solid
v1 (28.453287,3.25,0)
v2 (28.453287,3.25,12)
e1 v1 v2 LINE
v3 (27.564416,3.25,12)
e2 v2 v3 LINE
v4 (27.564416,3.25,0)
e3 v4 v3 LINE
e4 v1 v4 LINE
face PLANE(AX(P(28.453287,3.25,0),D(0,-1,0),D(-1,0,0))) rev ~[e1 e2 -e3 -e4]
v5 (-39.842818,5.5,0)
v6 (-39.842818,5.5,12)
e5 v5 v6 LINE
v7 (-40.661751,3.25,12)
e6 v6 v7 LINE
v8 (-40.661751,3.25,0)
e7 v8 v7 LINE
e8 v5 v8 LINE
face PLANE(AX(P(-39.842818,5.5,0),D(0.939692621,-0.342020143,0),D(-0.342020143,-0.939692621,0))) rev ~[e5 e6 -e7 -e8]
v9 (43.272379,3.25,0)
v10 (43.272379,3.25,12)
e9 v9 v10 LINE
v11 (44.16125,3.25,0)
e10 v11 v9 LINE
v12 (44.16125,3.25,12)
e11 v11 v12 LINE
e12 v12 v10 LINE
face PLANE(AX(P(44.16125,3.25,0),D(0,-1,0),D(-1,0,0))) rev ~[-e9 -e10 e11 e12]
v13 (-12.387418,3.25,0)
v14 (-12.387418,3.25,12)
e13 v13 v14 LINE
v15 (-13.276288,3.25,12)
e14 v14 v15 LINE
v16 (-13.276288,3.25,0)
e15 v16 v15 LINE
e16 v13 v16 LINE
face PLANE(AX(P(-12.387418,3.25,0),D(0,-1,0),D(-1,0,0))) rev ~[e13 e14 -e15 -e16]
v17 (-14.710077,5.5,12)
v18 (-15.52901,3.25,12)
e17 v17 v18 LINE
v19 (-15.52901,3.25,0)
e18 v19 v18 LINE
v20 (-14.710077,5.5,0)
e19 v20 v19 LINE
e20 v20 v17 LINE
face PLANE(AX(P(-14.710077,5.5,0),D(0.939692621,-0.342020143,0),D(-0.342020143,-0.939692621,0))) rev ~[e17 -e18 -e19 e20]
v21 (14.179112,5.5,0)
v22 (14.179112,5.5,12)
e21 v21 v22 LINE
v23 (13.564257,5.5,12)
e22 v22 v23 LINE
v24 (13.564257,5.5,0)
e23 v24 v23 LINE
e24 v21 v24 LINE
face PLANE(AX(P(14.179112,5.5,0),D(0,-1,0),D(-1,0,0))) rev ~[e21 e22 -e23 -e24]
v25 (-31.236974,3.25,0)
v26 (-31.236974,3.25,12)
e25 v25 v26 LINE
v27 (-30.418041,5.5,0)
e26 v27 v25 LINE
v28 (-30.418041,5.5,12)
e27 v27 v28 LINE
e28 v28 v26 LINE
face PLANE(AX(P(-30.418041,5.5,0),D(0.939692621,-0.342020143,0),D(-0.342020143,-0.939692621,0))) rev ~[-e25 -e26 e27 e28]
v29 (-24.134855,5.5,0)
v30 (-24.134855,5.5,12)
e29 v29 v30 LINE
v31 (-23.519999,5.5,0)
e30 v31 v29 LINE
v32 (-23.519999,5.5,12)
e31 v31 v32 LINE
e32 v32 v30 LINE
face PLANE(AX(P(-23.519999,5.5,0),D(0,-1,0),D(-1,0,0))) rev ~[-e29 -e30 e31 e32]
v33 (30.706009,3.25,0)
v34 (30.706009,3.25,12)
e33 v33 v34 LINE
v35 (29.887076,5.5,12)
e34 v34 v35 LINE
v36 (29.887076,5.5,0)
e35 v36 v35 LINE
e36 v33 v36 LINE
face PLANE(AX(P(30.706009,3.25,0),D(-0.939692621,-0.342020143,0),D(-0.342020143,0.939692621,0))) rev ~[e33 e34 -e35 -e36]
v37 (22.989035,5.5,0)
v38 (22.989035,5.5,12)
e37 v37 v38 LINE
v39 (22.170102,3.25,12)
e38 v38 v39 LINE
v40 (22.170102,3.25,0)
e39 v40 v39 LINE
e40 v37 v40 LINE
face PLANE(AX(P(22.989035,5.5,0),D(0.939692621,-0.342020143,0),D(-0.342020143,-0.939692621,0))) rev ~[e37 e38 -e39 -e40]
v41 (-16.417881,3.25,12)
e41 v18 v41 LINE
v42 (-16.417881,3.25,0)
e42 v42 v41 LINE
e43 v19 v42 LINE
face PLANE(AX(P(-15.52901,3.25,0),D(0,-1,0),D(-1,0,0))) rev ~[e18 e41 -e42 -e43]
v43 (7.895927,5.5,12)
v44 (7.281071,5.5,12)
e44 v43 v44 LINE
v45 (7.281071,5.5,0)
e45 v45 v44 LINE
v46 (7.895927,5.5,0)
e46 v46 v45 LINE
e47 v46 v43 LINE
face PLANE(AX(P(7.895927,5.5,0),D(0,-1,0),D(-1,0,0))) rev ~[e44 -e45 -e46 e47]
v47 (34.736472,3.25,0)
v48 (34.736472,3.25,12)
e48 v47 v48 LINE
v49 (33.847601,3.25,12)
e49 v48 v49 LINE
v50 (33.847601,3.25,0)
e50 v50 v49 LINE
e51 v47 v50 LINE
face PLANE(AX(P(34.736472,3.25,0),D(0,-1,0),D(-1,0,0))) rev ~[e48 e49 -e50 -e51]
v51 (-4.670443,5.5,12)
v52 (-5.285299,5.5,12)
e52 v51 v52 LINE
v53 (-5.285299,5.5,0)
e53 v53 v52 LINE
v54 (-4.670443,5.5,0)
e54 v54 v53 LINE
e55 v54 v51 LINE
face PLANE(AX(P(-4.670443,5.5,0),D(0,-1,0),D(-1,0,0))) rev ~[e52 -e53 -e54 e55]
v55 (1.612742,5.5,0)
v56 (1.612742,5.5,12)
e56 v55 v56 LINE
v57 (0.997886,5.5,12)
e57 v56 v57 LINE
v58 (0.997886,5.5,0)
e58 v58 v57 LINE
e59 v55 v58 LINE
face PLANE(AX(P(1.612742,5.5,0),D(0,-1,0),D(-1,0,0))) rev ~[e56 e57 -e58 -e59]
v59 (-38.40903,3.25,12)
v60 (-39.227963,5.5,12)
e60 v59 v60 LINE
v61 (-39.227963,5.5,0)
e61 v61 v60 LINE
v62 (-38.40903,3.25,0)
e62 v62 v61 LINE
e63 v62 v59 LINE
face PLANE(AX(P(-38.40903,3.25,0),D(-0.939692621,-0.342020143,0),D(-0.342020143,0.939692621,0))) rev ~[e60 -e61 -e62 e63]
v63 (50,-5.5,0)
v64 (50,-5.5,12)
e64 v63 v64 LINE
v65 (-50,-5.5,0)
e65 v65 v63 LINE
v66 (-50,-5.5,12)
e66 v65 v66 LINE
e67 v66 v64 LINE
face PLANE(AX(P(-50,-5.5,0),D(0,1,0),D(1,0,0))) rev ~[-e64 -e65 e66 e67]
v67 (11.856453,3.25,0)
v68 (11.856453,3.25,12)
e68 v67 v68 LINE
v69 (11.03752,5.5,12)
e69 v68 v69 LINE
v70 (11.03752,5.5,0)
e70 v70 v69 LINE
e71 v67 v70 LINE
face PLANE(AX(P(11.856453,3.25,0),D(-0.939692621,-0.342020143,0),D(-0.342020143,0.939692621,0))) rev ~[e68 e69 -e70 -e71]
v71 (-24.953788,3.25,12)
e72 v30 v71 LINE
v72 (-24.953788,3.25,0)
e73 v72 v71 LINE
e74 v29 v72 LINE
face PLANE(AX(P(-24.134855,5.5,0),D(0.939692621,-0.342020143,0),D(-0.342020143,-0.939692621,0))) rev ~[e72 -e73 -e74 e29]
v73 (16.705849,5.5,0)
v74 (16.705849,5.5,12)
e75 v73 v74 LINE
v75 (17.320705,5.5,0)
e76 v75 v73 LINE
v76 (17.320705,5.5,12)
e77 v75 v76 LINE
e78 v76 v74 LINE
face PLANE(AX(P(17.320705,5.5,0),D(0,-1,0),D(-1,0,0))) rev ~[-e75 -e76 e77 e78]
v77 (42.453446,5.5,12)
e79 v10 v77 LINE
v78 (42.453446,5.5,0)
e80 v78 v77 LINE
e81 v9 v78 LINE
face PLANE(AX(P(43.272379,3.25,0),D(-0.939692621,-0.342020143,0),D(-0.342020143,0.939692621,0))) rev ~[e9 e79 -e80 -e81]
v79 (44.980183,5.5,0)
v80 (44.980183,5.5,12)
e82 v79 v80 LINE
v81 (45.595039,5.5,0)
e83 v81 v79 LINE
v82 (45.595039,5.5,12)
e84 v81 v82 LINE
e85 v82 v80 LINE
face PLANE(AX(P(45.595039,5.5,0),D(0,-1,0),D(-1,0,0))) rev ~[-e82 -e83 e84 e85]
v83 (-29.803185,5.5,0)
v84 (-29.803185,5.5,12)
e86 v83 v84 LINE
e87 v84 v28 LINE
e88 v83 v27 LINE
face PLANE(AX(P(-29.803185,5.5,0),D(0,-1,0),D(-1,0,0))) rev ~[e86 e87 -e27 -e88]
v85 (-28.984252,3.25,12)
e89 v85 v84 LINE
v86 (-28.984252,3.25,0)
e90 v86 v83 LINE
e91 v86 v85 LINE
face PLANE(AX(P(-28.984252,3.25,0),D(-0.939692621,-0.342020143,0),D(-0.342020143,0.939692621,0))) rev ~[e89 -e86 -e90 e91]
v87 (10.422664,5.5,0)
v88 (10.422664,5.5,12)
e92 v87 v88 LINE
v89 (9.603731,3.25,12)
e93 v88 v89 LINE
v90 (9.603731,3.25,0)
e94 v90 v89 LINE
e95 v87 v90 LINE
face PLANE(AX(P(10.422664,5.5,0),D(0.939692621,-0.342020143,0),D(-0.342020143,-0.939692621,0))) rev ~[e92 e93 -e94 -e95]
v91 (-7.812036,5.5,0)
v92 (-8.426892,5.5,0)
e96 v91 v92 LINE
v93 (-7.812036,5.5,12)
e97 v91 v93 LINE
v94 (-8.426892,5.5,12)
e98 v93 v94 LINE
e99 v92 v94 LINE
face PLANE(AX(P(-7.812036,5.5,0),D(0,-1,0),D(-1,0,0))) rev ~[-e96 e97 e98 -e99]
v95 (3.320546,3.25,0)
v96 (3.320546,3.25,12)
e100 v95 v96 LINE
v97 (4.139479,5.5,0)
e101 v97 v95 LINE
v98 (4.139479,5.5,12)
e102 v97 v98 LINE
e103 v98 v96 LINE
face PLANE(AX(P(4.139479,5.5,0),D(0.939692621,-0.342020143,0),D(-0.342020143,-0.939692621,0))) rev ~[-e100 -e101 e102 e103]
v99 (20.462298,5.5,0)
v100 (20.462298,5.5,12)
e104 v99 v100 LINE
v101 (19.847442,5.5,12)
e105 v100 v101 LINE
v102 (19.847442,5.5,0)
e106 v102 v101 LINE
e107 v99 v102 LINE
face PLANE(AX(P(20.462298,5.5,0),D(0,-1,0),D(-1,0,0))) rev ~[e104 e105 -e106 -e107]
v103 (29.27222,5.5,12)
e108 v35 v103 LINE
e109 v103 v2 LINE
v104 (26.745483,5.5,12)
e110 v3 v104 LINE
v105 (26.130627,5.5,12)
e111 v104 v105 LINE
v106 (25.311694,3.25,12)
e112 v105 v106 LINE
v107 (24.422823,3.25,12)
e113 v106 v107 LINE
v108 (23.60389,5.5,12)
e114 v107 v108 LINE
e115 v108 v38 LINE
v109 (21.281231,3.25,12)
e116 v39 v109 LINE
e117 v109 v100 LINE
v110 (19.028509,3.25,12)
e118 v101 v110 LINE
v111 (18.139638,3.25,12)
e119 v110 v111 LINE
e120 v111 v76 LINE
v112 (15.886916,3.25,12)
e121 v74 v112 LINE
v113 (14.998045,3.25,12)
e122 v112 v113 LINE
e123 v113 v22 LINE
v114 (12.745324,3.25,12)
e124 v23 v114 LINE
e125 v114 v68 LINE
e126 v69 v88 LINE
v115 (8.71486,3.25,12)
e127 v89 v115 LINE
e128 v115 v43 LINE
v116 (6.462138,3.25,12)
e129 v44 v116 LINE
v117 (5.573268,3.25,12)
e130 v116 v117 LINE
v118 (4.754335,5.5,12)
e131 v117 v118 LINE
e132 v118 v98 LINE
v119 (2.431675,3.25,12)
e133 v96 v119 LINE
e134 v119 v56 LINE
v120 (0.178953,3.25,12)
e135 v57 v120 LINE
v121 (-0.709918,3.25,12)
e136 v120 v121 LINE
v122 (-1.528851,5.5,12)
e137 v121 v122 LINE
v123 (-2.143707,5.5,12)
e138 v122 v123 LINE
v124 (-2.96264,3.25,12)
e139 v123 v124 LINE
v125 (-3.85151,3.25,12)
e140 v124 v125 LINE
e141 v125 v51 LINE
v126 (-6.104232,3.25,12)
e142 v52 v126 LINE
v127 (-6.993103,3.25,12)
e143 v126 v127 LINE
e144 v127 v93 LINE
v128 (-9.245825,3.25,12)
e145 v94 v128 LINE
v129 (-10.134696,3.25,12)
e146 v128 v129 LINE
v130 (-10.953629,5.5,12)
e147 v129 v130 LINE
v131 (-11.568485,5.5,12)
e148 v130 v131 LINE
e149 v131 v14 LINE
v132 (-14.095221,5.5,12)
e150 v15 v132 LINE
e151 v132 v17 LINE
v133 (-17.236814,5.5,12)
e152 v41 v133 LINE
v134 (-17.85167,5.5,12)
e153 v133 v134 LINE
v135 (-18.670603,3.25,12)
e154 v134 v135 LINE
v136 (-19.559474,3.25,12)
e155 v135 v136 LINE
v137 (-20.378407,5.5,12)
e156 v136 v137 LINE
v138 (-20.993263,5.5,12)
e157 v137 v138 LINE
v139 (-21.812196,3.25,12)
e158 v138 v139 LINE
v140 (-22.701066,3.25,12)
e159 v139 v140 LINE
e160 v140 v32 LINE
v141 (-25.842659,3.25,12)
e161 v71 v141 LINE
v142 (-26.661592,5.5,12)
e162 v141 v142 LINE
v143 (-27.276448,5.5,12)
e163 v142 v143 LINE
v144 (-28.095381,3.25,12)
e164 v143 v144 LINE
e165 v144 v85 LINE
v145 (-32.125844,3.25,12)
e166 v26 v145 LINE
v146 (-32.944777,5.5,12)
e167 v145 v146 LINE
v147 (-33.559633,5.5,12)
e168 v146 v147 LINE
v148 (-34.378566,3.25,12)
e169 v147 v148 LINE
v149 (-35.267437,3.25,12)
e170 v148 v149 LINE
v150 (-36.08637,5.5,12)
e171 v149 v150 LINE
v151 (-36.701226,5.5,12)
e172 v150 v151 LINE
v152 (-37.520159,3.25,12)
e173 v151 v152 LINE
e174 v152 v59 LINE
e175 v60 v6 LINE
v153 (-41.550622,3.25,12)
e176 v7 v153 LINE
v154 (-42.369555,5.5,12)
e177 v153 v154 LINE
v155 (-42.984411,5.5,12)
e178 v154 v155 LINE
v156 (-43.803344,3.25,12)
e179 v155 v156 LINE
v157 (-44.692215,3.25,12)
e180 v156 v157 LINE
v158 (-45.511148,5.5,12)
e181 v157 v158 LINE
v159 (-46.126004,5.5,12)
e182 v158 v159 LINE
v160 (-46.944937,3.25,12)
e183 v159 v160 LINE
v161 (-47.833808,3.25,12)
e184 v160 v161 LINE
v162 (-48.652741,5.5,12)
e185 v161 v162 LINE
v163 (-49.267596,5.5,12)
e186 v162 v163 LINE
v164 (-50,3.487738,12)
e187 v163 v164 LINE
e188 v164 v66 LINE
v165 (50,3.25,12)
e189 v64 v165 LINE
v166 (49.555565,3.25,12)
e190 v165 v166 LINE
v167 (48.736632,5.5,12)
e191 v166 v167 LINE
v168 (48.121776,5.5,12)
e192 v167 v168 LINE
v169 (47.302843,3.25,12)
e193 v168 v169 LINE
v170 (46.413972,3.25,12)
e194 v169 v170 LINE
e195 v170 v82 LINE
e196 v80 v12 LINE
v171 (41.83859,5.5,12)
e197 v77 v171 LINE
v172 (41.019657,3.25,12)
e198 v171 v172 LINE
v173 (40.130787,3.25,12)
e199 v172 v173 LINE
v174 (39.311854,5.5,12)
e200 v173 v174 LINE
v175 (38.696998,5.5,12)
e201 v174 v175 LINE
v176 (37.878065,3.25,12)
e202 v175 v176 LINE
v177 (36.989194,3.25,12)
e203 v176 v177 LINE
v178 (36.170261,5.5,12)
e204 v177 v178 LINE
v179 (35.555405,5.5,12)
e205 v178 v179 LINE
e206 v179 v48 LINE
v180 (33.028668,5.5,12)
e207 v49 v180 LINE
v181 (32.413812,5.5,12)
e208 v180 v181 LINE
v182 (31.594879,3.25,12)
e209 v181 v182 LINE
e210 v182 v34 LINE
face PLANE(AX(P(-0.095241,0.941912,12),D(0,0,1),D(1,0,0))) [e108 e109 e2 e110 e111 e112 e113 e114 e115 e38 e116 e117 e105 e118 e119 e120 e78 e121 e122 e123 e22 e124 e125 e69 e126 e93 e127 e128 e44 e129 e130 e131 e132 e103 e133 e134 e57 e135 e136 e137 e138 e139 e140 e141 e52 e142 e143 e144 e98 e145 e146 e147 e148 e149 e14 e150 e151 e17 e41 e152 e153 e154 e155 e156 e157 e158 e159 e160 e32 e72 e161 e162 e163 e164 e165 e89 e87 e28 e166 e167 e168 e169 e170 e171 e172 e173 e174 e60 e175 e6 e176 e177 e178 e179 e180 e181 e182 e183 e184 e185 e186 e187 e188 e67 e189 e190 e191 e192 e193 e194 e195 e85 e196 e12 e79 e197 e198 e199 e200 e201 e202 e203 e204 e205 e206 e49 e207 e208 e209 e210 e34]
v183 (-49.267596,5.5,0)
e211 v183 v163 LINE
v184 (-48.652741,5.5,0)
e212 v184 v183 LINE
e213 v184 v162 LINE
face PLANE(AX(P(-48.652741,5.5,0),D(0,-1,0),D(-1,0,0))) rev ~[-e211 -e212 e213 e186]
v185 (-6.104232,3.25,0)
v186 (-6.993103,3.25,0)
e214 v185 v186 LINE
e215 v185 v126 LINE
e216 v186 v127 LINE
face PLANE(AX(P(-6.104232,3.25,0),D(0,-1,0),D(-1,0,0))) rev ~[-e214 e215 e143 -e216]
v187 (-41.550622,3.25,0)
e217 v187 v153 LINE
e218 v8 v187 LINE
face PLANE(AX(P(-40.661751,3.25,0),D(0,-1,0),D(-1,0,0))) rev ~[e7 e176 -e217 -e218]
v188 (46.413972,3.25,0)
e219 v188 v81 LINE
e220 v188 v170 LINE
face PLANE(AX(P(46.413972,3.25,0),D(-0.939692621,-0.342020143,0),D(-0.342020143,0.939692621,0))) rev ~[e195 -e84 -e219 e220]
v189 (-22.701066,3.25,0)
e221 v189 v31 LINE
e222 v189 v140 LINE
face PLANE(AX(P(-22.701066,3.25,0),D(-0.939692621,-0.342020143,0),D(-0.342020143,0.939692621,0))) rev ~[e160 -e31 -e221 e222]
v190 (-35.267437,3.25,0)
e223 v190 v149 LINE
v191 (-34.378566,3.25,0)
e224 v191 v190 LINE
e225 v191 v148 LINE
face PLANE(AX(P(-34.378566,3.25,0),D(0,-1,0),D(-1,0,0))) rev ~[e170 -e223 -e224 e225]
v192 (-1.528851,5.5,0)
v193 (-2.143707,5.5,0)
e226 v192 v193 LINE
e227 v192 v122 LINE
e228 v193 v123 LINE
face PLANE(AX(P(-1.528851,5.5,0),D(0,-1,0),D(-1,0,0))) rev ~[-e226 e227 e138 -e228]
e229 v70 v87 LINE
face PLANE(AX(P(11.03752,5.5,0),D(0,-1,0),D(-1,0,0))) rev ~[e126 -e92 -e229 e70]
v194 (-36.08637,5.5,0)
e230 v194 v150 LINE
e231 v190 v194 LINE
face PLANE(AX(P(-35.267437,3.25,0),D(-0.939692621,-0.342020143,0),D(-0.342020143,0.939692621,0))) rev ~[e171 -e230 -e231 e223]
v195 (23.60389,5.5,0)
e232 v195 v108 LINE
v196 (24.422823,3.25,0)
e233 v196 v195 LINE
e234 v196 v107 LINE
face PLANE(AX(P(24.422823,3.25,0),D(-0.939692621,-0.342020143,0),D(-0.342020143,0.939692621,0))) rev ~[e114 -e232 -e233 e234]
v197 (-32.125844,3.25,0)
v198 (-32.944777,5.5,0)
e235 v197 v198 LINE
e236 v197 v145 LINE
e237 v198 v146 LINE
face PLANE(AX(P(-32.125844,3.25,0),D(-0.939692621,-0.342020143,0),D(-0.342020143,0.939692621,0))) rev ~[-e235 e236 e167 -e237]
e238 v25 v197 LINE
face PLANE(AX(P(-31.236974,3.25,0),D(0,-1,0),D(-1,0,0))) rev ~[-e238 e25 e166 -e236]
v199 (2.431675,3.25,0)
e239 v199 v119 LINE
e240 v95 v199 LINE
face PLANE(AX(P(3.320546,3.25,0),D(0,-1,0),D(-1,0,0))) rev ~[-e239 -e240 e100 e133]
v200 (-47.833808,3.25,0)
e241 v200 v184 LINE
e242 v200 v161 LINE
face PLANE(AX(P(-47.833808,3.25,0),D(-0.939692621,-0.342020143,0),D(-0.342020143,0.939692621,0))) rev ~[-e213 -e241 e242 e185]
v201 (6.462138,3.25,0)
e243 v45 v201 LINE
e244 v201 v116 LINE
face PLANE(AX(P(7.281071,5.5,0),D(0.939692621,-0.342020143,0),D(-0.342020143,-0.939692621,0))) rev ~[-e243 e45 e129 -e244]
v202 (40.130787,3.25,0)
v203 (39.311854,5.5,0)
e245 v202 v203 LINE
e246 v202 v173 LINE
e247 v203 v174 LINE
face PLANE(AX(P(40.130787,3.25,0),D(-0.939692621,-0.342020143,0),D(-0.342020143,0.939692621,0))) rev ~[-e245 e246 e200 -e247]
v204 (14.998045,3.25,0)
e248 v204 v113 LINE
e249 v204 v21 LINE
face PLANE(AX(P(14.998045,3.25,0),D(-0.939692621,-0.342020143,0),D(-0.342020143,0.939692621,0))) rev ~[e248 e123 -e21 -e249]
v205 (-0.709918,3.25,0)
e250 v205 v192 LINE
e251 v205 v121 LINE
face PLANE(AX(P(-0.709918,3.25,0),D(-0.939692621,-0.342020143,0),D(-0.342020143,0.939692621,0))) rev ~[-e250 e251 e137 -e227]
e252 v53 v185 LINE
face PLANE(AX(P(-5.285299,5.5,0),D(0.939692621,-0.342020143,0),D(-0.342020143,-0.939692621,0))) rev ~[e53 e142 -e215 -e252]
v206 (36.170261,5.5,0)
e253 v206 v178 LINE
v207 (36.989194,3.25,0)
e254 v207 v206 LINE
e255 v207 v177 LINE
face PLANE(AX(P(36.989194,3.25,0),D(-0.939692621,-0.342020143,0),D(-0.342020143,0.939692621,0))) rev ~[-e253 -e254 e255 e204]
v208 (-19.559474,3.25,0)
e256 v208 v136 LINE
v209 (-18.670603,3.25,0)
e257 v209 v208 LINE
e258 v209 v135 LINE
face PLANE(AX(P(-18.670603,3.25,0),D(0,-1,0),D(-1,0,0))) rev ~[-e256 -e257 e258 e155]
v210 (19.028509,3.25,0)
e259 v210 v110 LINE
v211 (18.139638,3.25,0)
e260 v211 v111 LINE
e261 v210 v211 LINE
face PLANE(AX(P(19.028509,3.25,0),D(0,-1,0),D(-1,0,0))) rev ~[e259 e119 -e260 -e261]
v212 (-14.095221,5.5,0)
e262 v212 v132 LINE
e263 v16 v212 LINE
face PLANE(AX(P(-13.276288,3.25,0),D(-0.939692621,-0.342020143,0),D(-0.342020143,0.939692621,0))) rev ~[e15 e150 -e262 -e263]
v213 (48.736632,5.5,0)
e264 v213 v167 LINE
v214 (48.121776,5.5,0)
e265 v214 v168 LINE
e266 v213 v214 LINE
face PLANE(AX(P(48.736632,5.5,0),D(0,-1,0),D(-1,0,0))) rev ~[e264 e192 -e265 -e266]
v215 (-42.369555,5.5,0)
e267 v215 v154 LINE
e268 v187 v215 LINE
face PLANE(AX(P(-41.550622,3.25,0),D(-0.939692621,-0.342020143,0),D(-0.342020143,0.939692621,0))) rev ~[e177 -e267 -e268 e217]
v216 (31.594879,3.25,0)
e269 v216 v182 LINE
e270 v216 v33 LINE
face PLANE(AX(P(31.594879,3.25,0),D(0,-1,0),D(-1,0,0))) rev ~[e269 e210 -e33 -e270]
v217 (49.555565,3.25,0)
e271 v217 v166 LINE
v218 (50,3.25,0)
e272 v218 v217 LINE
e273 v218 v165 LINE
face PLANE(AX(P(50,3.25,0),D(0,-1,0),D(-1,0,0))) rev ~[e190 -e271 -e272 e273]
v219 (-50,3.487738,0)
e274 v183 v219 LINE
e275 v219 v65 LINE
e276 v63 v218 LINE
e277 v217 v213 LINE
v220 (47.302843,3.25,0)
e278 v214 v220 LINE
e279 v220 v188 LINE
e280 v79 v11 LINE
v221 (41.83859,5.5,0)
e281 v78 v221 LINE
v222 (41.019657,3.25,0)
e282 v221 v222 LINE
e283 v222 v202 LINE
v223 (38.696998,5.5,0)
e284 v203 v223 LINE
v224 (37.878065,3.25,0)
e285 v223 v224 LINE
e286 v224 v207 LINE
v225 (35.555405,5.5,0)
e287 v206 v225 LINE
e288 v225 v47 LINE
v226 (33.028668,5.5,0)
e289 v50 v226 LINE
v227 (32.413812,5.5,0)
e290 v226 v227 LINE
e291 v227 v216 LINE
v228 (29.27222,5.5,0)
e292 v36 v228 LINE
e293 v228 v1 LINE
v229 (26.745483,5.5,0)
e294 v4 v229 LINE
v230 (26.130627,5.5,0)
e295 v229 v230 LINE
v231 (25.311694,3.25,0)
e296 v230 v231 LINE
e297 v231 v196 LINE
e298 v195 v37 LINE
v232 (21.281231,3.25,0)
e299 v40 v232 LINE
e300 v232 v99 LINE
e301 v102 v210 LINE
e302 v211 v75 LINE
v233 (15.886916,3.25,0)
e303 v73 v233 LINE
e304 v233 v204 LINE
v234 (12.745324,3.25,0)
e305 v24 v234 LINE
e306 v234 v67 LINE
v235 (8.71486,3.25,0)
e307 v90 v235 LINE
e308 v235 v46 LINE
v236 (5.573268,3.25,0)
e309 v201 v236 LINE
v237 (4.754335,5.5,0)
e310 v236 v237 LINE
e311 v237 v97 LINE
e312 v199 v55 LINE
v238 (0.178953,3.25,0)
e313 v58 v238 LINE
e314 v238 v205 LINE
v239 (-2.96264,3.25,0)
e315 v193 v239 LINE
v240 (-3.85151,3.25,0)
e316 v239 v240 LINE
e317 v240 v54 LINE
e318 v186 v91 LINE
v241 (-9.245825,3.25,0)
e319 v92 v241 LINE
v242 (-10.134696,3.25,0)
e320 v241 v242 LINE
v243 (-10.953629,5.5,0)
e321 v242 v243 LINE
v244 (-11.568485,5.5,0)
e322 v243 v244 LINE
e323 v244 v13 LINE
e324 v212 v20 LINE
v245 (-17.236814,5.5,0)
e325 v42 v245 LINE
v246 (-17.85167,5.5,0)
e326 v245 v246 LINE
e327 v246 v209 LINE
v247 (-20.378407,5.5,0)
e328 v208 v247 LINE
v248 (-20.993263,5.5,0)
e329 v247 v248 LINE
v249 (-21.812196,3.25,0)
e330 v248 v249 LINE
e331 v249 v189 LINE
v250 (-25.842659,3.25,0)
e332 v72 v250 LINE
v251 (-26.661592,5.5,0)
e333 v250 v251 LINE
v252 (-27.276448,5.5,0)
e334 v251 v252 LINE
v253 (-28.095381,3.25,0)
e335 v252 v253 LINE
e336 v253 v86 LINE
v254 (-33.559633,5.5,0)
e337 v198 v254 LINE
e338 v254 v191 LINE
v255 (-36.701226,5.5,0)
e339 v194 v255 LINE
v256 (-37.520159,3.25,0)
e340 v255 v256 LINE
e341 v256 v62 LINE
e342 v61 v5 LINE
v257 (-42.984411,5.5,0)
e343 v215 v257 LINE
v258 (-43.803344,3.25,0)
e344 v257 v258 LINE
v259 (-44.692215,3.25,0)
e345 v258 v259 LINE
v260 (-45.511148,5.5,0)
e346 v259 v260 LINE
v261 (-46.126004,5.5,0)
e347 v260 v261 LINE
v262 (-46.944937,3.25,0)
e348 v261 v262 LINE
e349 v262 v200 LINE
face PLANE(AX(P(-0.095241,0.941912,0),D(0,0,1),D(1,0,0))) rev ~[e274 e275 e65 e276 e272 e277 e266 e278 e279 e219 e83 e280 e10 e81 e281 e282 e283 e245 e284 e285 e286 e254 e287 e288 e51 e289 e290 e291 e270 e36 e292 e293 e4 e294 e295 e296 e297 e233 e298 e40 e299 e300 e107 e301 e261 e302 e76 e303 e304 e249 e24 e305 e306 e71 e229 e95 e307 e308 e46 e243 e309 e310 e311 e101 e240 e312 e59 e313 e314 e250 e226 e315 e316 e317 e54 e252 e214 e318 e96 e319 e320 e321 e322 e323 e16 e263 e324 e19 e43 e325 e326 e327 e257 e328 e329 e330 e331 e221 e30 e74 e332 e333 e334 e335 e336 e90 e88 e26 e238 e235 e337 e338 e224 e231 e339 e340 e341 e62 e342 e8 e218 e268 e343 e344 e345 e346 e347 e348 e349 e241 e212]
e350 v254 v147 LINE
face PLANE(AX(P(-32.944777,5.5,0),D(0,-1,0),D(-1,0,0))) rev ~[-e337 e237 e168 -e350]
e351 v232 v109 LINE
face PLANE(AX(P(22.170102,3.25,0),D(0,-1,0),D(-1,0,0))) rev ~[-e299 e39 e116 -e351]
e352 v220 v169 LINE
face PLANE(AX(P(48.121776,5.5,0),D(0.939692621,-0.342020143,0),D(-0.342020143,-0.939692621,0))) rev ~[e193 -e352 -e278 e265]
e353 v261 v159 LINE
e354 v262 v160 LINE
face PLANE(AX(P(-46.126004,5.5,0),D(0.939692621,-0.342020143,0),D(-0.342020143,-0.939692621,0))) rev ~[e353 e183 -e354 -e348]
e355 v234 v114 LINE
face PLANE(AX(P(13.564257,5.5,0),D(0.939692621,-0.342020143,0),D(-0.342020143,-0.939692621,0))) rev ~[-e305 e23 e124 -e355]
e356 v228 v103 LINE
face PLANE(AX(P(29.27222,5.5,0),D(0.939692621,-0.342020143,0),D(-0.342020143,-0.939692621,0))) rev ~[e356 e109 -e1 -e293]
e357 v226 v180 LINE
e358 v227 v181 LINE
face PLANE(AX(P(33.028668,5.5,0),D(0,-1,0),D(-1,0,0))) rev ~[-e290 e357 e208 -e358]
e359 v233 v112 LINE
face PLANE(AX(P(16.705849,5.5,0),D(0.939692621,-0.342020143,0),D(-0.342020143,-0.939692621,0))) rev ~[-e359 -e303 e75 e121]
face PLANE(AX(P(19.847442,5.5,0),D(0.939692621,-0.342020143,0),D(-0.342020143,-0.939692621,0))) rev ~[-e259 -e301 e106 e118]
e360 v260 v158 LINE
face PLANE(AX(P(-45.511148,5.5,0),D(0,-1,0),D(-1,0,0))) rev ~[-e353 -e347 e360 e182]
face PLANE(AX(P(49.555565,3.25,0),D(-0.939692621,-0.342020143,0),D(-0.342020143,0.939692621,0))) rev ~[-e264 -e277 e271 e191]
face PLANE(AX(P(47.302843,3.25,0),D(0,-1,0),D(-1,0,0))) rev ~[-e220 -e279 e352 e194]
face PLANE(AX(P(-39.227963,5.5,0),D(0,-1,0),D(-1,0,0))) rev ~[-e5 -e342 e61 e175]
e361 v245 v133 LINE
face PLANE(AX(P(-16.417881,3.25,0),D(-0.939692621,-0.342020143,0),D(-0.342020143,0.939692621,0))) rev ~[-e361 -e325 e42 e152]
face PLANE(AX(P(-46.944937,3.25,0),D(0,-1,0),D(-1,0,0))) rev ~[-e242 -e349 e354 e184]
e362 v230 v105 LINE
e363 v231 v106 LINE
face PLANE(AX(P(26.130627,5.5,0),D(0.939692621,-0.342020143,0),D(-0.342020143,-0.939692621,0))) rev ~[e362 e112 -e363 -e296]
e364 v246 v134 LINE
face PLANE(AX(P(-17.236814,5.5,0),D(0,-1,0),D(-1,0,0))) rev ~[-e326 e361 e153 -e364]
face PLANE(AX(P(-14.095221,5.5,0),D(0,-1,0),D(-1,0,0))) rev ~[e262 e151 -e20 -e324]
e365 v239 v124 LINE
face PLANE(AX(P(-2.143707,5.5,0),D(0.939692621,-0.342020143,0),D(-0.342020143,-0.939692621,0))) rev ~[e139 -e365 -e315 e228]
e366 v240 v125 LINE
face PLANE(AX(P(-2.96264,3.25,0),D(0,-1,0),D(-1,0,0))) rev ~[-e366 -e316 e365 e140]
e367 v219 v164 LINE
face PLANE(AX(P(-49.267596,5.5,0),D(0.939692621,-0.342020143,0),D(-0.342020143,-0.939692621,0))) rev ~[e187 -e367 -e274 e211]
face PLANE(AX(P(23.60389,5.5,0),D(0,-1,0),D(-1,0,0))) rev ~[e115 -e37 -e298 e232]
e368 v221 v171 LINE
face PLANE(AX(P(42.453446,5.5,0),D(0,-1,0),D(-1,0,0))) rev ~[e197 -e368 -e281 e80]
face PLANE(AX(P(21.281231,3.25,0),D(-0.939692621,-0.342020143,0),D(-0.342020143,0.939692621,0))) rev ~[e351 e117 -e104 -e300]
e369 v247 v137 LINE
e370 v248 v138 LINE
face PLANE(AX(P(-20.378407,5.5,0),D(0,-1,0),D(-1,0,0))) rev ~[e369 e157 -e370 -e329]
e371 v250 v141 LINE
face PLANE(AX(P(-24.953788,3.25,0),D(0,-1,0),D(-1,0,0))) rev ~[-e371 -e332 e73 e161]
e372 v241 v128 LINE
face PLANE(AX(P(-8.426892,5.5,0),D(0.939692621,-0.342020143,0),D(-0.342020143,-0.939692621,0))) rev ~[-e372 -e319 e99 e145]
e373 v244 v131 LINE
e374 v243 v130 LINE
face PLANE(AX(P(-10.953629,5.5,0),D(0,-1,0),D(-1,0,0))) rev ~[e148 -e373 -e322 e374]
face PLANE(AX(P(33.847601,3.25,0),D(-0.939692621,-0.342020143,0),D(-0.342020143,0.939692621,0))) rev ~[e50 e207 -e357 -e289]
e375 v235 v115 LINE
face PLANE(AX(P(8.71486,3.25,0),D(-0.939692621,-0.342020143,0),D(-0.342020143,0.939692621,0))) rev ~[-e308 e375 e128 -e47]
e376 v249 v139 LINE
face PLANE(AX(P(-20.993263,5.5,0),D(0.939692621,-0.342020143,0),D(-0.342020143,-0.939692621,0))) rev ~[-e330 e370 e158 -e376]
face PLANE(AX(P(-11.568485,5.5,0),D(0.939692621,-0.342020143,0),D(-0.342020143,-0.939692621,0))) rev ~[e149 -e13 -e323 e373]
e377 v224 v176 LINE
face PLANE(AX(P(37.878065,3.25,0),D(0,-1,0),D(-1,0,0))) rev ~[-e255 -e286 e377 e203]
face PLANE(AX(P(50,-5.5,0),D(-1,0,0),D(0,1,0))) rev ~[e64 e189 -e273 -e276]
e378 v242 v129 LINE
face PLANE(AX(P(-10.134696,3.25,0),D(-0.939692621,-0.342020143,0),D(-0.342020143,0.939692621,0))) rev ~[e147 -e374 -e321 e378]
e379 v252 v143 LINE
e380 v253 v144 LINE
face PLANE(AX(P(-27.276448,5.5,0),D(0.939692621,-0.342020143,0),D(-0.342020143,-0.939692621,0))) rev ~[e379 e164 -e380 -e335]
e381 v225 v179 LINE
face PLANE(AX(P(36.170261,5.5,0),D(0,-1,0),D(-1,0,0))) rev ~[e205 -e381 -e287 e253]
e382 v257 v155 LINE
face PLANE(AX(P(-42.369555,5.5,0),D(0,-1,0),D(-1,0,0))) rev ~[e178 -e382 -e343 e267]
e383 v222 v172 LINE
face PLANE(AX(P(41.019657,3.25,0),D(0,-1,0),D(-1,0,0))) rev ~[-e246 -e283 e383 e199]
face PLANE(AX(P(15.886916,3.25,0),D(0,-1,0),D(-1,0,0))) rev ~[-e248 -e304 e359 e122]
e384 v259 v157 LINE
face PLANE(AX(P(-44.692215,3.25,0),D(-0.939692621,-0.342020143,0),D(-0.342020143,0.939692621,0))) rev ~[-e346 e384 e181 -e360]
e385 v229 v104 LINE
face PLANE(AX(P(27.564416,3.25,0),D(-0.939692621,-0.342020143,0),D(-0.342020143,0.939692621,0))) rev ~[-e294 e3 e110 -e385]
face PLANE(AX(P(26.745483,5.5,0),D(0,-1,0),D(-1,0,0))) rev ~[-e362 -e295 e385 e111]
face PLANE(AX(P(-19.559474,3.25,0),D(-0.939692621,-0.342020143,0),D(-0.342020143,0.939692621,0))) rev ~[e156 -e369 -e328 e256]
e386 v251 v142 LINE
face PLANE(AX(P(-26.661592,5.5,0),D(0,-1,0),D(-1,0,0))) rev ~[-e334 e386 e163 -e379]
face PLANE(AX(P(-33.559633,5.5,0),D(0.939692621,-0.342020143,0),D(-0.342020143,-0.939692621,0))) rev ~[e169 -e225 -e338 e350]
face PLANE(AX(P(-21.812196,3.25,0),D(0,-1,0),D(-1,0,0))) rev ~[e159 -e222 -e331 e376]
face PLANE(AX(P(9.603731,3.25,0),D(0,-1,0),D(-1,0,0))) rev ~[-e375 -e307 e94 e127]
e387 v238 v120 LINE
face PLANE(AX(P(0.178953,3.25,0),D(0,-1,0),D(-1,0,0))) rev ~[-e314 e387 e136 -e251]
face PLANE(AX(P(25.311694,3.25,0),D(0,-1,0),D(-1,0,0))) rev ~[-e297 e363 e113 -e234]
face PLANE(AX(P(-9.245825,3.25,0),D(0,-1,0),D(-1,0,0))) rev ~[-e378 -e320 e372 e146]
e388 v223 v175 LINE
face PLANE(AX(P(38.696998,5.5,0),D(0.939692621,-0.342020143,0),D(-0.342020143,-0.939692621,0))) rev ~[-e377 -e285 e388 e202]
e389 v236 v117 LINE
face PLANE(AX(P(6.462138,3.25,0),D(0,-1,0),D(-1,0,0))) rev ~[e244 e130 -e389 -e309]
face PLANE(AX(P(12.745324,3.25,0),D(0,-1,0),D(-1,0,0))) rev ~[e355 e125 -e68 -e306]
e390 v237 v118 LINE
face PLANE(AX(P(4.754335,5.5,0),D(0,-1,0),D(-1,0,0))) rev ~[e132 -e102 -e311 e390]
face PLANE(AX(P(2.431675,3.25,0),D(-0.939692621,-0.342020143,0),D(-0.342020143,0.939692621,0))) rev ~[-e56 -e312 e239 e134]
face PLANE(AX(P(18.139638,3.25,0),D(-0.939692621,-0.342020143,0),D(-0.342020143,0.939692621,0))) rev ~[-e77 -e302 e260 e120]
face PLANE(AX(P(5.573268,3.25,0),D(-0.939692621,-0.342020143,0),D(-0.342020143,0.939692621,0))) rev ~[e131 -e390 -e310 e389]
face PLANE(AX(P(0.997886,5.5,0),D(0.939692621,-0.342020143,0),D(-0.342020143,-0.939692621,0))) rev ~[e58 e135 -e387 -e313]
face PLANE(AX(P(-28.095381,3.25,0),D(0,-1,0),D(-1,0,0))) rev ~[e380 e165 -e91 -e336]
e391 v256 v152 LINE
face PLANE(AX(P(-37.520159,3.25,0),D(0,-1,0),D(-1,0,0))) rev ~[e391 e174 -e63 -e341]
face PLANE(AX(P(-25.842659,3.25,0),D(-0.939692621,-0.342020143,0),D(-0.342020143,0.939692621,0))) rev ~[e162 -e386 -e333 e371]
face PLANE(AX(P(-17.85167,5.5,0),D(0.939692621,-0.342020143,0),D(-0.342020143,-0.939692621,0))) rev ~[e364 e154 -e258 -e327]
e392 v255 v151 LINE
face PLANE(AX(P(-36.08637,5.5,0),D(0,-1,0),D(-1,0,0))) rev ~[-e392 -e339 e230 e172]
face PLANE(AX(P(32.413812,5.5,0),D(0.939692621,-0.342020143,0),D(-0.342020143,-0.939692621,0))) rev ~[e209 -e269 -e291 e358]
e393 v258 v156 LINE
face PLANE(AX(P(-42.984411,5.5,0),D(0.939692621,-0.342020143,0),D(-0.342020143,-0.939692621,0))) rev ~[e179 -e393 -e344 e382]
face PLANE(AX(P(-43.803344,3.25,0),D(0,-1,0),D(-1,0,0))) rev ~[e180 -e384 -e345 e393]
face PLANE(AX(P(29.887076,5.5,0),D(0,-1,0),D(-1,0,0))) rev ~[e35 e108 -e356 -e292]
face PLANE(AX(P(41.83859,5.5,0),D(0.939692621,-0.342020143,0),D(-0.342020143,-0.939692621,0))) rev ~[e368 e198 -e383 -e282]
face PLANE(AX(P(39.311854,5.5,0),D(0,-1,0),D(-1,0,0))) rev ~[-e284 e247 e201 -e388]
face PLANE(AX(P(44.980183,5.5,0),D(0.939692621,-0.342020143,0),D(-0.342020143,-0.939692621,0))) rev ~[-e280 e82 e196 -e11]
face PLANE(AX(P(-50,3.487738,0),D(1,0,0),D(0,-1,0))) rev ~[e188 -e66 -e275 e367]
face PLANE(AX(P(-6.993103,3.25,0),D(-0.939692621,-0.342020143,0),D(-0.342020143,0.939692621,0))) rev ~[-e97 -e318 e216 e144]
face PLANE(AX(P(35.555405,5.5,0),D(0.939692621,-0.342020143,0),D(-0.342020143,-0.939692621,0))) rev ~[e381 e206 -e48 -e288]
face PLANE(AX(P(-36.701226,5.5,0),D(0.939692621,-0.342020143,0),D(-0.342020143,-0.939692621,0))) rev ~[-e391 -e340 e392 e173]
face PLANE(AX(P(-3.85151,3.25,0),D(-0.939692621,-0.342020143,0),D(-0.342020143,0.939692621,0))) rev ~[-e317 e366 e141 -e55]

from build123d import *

# Parameters (mm, degrees)
BOSS_EXTRUDE1_DEPTH = 12


with BuildPart() as part:
    # Sketch1 → Boss-Extrude1 (new body)
    with BuildSketch(Plane.XY):
        Polygon((-49.267596403, 5.5), (-50, 3.487737656), (-50, -5.5), (50, -5.5), (50, 3.25), (49.55556463, 3.25), (48.736631603, 5.5), (48.121775747, 5.5), (47.30284272, 3.25), (46.41397198, 3.25), (45.595038953, 5.5), (44.980183097, 5.5), (44.16125007, 3.25), (43.27237933, 3.25), (42.453446303, 5.5), (41.838590447, 5.5), (41.01965742, 3.25), (40.13078668, 3.25), (39.311853653, 5.5), (38.696997797, 5.5), (37.87806477, 3.25), (36.98919403, 3.25), (36.170261003, 5.5), (35.555405147, 5.5), (34.73647212, 3.25), (33.84760138, 3.25), (33.028668353, 5.5), (32.413812497, 5.5), (31.59487947, 3.25), (30.70600873, 3.25), (29.887075703, 5.5), (29.272219847, 5.5), (28.45328682, 3.25), (27.56441608, 3.25), (26.745483053, 5.5), (26.130627197, 5.5), (25.31169417, 3.25), (24.42282343, 3.25), (23.603890403, 5.5), (22.989034547, 5.5), (22.17010152, 3.25), (21.28123078, 3.25), (20.462297753, 5.5), (19.847441897, 5.5), (19.02850887, 3.25), (18.13963813, 3.25), (17.320705103, 5.5), (16.705849247, 5.5), (15.88691622, 3.25), (14.99804548, 3.25), (14.179112453, 5.5), (13.564256597, 5.5), (12.74532357, 3.25), (11.85645283, 3.25), (11.037519803, 5.5), (10.422663947, 5.5), (9.60373092, 3.25), (8.71486018, 3.25), (7.895927153, 5.5), (7.281071297, 5.5), (6.46213827, 3.25), (5.57326753, 3.25), (4.754334503, 5.5), (4.139478647, 5.5), (3.32054562, 3.25), (2.43167488, 3.25), (1.612741853, 5.5), (0.997885997, 5.5), (0.17895297, 3.25), (-0.70991777, 3.25), (-1.528850797, 5.5), (-2.143706653, 5.5), (-2.96263968, 3.25), (-3.85151042, 3.25), (-4.670443447, 5.5), (-5.285299303, 5.5), (-6.10423233, 3.25), (-6.99310307, 3.25), (-7.812036097, 5.5), (-8.426891953, 5.5), (-9.24582498, 3.25), (-10.13469572, 3.25), (-10.953628747, 5.5), (-11.568484603, 5.5), (-12.38741763, 3.25), (-13.27628837, 3.25), (-14.095221397, 5.5), (-14.710077253, 5.5), (-15.52901028, 3.25), (-16.41788102, 3.25), (-17.236814047, 5.5), (-17.851669903, 5.5), (-18.67060293, 3.25), (-19.55947367, 3.25), (-20.378406697, 5.5), (-20.993262553, 5.5), (-21.81219558, 3.25), (-22.70106632, 3.25), (-23.519999347, 5.5), (-24.134855203, 5.5), (-24.95378823, 3.25), (-25.84265897, 3.25), (-26.661591997, 5.5), (-27.276447853, 5.5), (-28.09538088, 3.25), (-28.98425162, 3.25), (-29.803184647, 5.5), (-30.418040503, 5.5), (-31.23697353, 3.25), (-32.12584427, 3.25), (-32.944777297, 5.5), (-33.559633153, 5.5), (-34.37856618, 3.25), (-35.26743692, 3.25), (-36.086369947, 5.5), (-36.701225803, 5.5), (-37.52015883, 3.25), (-38.40902957, 3.25), (-39.227962597, 5.5), (-39.842818453, 5.5), (-40.66175148, 3.25), (-41.55062222, 3.25), (-42.369555247, 5.5), (-42.984411103, 5.5), (-43.80334413, 3.25), (-44.69221487, 3.25), (-45.511147897, 5.5), (-46.126003753, 5.5), (-46.94493678, 3.25), (-47.83380752, 3.25), (-48.652740547, 5.5), align=None)
    extrude(amount=BOSS_EXTRUDE1_DEPTH)


solid = part.part
